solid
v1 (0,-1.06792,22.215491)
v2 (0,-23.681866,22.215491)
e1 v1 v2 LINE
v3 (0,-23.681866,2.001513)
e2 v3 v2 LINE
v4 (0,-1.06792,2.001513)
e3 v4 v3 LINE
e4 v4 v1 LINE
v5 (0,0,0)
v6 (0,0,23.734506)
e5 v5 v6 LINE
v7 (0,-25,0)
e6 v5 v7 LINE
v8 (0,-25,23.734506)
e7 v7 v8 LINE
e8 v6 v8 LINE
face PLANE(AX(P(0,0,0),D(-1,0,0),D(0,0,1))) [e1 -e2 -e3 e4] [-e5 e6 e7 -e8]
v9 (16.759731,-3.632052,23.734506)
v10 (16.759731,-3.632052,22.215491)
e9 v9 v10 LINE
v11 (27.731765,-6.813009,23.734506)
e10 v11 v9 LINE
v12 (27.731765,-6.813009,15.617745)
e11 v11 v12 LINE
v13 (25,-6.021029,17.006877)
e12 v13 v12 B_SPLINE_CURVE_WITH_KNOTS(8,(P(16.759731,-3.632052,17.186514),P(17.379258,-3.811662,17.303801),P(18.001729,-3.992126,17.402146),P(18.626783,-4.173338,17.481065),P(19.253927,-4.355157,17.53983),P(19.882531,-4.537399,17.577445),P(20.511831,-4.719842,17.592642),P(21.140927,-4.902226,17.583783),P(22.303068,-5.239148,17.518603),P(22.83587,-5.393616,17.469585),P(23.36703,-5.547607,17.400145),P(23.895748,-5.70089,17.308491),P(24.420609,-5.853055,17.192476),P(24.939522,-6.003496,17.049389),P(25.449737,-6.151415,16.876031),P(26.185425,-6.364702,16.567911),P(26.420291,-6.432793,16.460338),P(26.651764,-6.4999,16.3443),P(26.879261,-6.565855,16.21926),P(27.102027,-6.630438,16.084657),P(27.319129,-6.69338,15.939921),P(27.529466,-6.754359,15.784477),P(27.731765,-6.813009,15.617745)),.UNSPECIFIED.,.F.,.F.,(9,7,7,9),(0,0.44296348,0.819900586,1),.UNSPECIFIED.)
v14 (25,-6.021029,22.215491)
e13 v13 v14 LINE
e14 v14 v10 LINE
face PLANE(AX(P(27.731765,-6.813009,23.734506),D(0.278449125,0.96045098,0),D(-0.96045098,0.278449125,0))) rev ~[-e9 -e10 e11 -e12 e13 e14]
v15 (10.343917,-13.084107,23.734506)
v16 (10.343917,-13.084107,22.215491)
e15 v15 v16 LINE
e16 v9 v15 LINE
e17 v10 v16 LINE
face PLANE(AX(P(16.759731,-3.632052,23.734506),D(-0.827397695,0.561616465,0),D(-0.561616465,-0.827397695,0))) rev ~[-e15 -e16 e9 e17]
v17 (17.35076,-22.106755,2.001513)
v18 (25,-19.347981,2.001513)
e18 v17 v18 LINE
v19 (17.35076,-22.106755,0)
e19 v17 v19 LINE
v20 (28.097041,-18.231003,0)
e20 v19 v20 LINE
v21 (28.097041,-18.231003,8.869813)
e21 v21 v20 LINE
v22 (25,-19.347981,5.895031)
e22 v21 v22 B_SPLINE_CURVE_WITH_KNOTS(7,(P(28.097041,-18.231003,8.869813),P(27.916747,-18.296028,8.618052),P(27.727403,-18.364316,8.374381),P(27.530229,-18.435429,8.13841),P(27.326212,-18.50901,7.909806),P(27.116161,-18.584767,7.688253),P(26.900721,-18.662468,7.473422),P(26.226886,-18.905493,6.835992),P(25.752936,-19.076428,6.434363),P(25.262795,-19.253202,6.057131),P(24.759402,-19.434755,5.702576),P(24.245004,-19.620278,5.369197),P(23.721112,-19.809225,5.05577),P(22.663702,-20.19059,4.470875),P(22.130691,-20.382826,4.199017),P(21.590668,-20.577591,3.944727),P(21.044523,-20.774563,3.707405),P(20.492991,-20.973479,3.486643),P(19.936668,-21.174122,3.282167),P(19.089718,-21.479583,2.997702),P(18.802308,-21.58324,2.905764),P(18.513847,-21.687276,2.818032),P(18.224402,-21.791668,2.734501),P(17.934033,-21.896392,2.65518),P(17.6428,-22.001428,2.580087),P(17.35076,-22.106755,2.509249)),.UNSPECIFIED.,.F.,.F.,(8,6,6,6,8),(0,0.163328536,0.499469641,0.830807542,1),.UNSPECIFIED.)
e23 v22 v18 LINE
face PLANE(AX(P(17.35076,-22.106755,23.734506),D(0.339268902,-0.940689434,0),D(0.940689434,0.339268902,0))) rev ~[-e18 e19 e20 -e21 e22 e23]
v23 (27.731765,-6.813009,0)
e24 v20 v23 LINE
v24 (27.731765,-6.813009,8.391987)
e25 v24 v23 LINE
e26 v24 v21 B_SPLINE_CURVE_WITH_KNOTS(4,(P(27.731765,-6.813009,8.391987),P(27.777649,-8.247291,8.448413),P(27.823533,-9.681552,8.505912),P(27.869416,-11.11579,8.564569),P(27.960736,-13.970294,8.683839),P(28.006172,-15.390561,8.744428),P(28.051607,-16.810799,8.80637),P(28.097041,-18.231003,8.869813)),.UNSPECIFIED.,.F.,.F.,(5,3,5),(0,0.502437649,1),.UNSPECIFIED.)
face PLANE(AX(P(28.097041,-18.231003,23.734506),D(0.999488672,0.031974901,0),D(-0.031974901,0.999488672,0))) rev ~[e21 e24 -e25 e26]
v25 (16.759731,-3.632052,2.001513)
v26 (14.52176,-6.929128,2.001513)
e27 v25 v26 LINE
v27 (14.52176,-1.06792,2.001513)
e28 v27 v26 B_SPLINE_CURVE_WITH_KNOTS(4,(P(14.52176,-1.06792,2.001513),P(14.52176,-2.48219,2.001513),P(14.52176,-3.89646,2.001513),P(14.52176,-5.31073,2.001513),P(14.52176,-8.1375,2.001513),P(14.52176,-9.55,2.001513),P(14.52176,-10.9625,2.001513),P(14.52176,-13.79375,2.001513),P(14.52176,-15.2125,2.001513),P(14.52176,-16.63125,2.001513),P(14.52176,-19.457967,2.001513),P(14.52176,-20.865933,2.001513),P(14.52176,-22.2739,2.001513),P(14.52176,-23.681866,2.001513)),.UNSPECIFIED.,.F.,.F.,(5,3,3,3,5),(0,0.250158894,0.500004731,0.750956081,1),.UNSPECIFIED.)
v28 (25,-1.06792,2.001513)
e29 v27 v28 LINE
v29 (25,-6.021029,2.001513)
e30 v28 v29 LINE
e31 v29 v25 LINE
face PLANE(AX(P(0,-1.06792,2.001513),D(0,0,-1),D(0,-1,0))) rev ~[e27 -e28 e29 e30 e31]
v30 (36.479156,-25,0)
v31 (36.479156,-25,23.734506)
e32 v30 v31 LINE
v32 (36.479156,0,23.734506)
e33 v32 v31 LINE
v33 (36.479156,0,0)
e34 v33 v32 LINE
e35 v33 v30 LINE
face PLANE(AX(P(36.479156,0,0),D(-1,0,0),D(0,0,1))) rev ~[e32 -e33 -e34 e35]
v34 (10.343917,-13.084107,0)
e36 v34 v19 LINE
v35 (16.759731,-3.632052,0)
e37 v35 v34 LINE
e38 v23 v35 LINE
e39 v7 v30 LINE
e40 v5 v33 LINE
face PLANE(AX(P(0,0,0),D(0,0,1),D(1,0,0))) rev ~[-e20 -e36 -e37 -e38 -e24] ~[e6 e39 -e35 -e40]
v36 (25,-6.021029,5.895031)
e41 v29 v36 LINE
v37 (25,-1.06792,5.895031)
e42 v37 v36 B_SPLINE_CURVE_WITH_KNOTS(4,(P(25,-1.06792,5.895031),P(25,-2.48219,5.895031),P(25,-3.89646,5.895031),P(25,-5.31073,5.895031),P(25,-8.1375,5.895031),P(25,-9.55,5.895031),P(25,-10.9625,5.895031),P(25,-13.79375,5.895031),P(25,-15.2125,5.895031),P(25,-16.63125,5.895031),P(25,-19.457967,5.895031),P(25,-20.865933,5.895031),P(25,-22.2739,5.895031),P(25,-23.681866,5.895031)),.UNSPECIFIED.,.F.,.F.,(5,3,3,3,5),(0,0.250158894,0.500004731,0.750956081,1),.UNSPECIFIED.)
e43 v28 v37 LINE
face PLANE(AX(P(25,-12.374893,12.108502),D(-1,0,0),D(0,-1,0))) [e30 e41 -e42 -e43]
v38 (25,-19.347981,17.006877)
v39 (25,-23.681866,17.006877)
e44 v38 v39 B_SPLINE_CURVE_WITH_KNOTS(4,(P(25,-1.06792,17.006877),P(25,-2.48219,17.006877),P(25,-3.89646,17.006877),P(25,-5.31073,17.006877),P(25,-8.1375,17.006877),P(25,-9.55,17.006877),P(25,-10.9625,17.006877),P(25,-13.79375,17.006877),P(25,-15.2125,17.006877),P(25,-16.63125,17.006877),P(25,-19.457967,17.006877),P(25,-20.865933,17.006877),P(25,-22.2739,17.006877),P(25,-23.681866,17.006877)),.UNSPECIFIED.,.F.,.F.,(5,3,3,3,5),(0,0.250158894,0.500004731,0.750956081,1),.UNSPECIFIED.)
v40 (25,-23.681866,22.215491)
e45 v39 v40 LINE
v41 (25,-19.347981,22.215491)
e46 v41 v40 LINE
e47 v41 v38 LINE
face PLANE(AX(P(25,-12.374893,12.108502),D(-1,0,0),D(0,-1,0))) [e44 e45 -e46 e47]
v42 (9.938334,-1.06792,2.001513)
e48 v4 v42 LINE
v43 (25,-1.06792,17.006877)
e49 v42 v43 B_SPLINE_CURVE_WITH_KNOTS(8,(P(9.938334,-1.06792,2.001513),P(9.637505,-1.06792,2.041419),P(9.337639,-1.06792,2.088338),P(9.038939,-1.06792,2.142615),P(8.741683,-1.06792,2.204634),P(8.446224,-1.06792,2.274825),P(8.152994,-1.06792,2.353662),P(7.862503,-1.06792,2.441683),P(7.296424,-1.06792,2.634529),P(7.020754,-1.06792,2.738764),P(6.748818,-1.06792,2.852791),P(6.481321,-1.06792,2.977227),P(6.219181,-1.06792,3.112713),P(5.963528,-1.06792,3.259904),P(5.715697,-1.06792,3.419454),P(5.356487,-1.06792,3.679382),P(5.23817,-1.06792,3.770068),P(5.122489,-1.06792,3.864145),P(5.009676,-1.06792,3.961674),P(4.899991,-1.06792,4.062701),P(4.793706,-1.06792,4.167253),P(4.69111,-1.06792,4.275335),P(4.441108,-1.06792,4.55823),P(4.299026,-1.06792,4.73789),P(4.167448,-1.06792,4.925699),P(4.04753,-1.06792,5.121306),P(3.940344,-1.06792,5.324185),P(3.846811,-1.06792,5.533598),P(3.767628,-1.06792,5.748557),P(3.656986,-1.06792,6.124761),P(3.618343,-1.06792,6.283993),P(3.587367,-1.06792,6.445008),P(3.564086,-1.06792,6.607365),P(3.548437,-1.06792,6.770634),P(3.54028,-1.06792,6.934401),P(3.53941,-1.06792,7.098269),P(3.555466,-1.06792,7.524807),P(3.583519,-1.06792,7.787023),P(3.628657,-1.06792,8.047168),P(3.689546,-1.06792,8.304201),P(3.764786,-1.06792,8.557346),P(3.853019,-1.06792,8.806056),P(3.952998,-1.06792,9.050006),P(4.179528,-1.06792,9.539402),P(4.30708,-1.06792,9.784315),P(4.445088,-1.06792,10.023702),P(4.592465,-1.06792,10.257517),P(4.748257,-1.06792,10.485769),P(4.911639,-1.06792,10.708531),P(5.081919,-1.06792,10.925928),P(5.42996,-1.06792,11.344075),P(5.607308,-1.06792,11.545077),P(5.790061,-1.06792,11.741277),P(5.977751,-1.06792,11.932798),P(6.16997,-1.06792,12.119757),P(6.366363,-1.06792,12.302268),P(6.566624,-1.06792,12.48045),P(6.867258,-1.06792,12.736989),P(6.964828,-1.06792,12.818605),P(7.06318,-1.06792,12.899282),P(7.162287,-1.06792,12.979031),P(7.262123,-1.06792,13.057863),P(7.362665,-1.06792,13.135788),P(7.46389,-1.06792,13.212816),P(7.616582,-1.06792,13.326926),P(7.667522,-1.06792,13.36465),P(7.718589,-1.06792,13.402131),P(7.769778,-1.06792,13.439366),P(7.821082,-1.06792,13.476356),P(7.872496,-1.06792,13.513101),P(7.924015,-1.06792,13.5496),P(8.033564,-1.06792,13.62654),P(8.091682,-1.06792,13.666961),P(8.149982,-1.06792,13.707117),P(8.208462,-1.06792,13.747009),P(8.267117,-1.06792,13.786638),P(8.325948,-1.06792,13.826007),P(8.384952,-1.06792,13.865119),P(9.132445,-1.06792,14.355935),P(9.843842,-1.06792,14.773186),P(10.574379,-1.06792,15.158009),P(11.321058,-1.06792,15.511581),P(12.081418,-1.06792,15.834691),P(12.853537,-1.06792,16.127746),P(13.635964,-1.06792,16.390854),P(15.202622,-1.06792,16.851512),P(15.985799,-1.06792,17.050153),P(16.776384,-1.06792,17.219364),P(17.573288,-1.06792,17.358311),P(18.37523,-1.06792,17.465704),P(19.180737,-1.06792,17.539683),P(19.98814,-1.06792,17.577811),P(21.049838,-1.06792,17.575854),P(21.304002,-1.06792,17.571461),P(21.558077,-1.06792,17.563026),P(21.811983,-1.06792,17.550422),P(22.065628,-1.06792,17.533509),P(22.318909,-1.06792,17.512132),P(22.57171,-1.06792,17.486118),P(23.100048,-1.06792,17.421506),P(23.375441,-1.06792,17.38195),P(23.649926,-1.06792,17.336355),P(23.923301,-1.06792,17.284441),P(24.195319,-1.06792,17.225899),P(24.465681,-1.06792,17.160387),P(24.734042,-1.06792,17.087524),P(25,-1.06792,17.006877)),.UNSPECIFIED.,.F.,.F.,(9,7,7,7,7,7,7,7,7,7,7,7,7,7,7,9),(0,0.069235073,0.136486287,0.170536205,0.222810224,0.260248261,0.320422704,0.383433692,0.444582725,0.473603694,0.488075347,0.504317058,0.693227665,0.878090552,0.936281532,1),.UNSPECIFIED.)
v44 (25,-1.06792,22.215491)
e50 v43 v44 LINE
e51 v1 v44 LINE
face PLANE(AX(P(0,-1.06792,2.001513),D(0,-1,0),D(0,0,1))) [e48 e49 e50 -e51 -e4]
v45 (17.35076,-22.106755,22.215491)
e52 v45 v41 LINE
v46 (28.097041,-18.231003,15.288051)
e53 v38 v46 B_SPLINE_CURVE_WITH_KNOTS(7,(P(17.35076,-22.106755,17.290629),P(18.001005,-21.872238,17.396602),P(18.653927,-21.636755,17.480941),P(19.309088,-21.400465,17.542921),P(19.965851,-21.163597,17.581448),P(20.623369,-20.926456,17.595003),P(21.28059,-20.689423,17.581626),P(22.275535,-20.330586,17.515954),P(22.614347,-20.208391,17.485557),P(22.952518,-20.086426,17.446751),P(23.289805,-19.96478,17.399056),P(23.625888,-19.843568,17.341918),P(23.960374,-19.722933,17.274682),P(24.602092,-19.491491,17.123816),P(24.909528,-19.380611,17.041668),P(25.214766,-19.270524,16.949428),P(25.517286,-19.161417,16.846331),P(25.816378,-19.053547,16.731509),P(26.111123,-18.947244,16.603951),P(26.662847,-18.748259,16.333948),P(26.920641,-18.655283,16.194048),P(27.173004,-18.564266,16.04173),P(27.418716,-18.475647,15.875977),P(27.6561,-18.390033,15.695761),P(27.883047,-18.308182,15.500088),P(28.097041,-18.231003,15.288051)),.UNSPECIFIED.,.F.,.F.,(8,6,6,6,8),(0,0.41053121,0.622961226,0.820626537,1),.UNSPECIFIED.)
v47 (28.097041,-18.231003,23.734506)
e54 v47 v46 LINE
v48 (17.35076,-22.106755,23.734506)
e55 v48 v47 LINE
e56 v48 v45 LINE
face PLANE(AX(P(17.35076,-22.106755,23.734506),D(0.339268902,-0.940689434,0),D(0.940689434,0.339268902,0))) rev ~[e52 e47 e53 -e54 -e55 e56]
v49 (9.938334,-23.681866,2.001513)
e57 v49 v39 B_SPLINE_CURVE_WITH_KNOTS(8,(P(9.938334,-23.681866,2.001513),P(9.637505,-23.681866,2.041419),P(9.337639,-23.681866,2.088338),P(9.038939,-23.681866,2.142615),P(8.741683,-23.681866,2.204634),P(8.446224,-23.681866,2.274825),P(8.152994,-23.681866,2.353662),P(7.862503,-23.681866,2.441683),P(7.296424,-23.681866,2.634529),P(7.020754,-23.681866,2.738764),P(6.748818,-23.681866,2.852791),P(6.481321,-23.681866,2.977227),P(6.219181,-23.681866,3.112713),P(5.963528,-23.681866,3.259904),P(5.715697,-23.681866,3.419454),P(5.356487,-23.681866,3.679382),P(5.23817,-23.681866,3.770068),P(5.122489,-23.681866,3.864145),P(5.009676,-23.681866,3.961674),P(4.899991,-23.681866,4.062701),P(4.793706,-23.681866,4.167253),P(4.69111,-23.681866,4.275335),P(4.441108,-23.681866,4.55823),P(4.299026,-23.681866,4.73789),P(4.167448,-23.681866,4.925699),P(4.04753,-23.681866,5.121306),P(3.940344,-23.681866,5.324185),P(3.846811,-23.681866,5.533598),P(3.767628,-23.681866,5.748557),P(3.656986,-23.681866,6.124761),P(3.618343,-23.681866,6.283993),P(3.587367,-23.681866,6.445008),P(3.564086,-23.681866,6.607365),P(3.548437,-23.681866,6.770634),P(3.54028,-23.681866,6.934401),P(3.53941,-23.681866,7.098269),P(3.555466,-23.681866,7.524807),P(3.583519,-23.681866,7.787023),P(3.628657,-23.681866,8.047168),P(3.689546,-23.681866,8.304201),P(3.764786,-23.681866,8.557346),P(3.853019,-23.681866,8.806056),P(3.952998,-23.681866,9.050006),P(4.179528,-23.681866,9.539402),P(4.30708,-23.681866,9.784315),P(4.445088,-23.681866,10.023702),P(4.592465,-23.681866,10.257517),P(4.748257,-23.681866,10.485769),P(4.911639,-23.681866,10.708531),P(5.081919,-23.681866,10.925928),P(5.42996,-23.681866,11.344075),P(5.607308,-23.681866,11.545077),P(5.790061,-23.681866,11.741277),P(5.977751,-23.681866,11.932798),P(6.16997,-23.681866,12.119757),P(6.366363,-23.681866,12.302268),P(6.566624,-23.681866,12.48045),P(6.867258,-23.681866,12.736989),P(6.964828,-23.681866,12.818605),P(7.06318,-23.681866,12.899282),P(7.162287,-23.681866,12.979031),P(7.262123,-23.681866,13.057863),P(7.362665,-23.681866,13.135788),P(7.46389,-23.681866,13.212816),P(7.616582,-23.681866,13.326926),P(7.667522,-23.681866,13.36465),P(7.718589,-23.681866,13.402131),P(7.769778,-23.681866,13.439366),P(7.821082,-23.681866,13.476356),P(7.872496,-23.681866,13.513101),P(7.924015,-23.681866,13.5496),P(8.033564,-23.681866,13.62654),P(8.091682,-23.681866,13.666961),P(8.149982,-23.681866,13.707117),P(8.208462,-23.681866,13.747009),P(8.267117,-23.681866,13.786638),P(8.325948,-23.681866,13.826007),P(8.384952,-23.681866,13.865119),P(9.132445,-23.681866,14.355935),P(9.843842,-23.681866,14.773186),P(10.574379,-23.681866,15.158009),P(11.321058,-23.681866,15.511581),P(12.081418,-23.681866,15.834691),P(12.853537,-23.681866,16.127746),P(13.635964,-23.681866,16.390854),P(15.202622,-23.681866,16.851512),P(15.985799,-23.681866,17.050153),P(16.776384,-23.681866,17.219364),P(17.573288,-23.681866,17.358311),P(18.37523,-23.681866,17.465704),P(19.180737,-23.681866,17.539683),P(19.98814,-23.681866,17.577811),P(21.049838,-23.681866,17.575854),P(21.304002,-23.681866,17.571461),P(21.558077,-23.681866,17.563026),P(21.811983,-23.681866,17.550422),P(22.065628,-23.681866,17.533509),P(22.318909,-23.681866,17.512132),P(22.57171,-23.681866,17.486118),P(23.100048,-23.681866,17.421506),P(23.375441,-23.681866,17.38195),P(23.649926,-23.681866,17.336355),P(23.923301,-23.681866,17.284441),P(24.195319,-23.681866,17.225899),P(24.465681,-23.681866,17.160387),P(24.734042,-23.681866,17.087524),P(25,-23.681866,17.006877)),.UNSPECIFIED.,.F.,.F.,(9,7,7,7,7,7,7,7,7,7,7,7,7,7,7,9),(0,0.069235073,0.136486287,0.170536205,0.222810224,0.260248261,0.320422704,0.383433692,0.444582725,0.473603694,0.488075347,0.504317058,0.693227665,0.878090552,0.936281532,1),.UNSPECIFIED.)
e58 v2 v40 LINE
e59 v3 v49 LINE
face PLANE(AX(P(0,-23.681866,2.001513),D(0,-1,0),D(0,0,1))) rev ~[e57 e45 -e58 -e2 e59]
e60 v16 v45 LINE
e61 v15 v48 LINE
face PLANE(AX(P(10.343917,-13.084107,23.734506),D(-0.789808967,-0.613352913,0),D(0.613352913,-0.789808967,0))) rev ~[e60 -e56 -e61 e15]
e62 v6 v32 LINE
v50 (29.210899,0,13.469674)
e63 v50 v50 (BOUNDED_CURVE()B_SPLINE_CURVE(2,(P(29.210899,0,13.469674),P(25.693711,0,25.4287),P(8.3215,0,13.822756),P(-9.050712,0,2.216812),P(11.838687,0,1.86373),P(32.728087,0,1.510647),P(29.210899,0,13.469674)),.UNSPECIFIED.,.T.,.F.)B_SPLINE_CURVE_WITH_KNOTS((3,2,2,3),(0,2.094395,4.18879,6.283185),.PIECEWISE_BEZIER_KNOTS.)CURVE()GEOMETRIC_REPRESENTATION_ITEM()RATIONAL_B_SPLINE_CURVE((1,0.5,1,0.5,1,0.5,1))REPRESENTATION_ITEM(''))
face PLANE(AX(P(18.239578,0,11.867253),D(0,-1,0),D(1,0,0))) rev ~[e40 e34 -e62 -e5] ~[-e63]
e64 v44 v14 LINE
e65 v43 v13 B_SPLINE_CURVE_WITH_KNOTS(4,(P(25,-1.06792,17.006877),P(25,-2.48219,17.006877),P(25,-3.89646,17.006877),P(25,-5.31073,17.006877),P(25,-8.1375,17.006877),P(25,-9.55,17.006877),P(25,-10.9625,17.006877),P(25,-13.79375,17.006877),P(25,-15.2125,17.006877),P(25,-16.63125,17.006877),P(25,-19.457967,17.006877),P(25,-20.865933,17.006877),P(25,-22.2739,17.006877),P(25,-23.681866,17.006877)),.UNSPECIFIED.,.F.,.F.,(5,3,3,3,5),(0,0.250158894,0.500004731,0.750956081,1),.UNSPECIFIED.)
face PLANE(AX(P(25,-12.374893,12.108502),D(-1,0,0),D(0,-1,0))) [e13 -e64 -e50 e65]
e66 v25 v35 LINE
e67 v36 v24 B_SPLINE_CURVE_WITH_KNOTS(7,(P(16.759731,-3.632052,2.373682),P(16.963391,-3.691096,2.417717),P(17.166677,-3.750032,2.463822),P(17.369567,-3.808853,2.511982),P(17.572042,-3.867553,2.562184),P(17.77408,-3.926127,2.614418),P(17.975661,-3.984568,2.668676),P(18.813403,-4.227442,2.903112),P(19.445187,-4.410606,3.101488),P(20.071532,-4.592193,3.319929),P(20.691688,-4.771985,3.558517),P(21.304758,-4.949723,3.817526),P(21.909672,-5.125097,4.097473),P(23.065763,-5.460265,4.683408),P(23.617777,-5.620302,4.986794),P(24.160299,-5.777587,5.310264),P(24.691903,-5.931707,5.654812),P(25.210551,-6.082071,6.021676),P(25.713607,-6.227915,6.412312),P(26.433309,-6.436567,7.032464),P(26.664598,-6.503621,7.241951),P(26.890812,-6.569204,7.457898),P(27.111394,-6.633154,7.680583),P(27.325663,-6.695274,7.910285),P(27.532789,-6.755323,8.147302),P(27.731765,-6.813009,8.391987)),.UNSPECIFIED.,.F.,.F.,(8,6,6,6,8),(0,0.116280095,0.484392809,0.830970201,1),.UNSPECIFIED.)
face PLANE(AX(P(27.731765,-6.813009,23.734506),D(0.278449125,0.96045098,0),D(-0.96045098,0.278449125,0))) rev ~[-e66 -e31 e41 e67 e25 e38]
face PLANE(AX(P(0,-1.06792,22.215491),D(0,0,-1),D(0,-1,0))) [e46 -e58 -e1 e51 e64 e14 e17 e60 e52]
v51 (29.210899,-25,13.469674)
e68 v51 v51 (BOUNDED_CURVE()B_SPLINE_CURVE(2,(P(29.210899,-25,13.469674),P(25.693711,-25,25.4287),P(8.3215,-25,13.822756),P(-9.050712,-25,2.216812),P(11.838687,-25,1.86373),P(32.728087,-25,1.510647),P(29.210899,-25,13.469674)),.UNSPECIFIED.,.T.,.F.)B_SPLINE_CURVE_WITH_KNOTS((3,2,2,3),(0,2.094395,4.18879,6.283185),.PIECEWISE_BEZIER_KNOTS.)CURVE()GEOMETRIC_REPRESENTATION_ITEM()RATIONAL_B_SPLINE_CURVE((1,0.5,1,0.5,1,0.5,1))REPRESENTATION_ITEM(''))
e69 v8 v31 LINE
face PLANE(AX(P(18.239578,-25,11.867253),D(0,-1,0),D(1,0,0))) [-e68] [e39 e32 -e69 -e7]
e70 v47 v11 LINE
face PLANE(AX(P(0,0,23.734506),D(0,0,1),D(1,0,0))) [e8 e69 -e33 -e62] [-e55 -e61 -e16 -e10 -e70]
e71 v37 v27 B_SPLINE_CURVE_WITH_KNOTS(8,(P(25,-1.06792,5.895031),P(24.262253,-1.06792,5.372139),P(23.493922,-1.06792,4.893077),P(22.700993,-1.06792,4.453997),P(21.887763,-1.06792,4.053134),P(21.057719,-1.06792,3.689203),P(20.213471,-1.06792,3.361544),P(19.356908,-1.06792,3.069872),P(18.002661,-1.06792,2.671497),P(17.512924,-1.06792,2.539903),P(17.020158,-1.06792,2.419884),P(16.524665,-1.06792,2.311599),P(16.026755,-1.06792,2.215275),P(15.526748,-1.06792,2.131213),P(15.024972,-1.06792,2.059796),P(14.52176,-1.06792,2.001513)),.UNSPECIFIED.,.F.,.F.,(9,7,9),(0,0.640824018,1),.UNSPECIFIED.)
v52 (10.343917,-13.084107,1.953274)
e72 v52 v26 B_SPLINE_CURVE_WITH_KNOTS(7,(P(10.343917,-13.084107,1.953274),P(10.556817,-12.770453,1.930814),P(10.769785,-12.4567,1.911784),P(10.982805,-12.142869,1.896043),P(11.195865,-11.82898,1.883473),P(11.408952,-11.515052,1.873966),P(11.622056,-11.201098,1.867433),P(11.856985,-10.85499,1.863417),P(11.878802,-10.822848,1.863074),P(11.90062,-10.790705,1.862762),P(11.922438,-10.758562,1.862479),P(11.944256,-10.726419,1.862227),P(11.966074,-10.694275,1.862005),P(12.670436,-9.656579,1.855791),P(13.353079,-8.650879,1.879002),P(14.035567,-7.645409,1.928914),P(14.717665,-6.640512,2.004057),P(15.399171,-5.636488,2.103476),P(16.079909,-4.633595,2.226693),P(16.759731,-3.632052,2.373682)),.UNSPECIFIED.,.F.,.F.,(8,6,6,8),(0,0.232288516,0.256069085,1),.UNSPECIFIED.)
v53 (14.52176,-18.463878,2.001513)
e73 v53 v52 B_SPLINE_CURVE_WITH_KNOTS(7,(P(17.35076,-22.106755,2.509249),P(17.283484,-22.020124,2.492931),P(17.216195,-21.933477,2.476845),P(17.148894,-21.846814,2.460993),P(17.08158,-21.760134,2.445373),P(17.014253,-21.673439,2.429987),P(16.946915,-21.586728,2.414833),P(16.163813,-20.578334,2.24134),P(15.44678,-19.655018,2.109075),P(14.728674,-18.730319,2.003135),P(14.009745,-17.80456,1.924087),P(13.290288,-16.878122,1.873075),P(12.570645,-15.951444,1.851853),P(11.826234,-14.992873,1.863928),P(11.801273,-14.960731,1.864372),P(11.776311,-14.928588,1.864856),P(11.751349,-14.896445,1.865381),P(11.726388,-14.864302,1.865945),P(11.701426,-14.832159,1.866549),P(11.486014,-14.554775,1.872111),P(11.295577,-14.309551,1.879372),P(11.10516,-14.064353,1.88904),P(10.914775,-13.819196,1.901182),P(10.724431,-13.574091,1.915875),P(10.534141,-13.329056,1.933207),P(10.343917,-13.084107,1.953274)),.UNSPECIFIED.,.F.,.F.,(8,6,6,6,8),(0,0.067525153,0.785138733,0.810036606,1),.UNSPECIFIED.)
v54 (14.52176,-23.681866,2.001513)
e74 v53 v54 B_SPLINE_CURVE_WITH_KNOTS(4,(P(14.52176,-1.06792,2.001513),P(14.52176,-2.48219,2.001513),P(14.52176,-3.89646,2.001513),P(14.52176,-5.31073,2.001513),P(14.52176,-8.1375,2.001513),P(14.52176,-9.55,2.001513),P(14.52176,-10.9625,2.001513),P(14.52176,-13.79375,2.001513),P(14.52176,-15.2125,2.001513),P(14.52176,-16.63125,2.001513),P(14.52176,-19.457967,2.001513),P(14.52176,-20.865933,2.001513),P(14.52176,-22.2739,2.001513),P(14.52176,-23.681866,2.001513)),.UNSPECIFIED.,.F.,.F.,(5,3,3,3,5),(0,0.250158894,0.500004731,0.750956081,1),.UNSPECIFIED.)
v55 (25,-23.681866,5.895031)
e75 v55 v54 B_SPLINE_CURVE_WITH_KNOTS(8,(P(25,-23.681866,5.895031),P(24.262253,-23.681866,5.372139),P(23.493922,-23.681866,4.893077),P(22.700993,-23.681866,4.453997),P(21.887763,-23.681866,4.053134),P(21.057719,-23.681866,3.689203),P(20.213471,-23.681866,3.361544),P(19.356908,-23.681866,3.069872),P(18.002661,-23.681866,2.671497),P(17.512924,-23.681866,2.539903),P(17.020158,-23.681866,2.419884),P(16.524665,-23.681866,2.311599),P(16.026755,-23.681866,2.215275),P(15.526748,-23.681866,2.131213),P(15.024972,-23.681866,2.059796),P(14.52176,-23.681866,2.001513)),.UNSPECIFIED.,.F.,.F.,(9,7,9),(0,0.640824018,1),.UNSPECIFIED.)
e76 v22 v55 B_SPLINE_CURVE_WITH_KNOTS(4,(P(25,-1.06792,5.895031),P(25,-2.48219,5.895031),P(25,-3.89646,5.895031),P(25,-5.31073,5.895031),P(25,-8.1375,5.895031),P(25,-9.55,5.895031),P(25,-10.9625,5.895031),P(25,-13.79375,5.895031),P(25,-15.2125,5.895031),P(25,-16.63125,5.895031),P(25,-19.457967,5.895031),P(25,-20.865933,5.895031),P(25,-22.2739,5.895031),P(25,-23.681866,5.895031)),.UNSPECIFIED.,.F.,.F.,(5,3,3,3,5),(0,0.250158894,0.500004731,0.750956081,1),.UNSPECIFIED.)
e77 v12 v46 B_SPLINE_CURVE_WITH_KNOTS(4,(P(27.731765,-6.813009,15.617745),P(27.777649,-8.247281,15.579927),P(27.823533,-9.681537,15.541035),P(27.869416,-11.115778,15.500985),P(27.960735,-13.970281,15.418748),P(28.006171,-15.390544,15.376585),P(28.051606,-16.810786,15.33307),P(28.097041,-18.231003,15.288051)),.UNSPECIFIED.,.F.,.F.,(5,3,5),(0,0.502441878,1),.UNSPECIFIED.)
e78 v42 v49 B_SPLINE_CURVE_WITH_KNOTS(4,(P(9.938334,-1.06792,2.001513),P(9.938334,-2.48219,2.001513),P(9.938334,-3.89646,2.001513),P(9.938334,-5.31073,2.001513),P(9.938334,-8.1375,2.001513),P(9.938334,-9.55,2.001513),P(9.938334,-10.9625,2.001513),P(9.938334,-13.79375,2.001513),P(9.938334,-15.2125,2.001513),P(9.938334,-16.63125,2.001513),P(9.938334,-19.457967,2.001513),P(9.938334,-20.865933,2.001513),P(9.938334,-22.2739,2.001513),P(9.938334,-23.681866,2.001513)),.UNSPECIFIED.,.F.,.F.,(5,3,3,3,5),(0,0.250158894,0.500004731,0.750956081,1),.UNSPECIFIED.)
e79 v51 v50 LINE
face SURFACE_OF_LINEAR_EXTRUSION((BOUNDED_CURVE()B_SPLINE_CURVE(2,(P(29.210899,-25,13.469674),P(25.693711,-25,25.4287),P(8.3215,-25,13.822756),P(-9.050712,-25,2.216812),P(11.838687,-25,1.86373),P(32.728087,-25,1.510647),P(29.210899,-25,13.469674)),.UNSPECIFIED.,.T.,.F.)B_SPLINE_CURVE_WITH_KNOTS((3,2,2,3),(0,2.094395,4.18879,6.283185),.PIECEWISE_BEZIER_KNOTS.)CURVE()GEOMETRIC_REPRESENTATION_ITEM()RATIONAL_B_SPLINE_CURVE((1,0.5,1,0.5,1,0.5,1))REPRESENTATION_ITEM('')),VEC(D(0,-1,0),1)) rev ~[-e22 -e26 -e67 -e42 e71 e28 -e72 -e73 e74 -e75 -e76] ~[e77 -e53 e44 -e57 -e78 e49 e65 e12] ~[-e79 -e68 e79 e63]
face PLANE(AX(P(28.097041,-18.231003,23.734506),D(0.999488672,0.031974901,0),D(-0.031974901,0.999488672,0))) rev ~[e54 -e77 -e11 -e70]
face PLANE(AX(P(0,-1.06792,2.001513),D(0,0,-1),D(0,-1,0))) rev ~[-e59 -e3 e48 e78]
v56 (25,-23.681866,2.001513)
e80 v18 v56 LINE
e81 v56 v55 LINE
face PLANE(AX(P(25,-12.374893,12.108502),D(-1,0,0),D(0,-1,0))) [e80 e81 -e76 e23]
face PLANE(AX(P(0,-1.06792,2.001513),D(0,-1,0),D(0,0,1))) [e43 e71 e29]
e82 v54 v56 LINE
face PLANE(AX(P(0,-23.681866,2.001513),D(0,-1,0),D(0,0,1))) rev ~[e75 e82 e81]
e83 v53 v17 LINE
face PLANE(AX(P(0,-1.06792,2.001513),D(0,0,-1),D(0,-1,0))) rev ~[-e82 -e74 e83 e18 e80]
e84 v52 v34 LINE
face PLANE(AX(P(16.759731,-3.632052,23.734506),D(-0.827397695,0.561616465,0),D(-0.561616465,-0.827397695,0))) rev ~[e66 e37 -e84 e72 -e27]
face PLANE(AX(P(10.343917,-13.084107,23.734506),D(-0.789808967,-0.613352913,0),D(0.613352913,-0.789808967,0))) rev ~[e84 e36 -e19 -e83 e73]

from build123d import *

# Parameters (mm, degrees)
F0_W     = 36.479156
F0_H     = 23.734506
F1_DEPTH = 25
F3_DEPTH = 25
F5_DEPTH = 25
F6_W     = 22.613946
F6_H     = 20.213978
F7_DEPTH = 25


with BuildPart() as f1:
    # F0 (on Front) → F1 (new body)
    with BuildSketch(Plane.XZ):
        with Locations((18.239578, 11.867253)):
            Rectangle(F0_W, F0_H)
    extrude(amount=F1_DEPTH)

    # F2 (on face) → F3 (cut)
    with BuildSketch(Plane.XZ.offset(25)):
        with BuildLine():
            add(Edge.make_bspline(
                [(29.210899, 13.469674), (25.693711, 25.4287), (8.3215, 13.822756), (-9.050712, 2.216812), (11.838687, 1.86373), (32.728087, 1.510647), (29.210899, 13.469674)],
                knots=[0, 0, 0, 2.094395, 2.094395, 4.18879, 4.18879, 6.283185, 6.283185, 6.283185], degree=2, weights=[1, 0.5, 1, 0.5, 1, 0.5, 1]))
        make_face()
    extrude(amount=-F3_DEPTH, mode=Mode.SUBTRACT)

    # F4 (on face) → F5 (cut)
    with BuildSketch(Plane.XY.offset(23.734506)):
        Polygon((16.759731, -3.632052), (10.343917, -13.084107), (17.35076, -22.106755), (28.097041, -18.231003), (27.731765, -6.813009), align=None)
    extrude(amount=-F5_DEPTH, mode=Mode.SUBTRACT)

    # F6 (on face) → F7 (cut)
    with BuildSketch(Plane(origin=(0, 0, 0), x_dir=(0, -1, 0), z_dir=(-1, 0, 0))):
        with Locations((12.374893, 12.108502)):
            Rectangle(F6_W, F6_H)
    extrude(amount=-F7_DEPTH, mode=Mode.SUBTRACT)


solid = f1.part
